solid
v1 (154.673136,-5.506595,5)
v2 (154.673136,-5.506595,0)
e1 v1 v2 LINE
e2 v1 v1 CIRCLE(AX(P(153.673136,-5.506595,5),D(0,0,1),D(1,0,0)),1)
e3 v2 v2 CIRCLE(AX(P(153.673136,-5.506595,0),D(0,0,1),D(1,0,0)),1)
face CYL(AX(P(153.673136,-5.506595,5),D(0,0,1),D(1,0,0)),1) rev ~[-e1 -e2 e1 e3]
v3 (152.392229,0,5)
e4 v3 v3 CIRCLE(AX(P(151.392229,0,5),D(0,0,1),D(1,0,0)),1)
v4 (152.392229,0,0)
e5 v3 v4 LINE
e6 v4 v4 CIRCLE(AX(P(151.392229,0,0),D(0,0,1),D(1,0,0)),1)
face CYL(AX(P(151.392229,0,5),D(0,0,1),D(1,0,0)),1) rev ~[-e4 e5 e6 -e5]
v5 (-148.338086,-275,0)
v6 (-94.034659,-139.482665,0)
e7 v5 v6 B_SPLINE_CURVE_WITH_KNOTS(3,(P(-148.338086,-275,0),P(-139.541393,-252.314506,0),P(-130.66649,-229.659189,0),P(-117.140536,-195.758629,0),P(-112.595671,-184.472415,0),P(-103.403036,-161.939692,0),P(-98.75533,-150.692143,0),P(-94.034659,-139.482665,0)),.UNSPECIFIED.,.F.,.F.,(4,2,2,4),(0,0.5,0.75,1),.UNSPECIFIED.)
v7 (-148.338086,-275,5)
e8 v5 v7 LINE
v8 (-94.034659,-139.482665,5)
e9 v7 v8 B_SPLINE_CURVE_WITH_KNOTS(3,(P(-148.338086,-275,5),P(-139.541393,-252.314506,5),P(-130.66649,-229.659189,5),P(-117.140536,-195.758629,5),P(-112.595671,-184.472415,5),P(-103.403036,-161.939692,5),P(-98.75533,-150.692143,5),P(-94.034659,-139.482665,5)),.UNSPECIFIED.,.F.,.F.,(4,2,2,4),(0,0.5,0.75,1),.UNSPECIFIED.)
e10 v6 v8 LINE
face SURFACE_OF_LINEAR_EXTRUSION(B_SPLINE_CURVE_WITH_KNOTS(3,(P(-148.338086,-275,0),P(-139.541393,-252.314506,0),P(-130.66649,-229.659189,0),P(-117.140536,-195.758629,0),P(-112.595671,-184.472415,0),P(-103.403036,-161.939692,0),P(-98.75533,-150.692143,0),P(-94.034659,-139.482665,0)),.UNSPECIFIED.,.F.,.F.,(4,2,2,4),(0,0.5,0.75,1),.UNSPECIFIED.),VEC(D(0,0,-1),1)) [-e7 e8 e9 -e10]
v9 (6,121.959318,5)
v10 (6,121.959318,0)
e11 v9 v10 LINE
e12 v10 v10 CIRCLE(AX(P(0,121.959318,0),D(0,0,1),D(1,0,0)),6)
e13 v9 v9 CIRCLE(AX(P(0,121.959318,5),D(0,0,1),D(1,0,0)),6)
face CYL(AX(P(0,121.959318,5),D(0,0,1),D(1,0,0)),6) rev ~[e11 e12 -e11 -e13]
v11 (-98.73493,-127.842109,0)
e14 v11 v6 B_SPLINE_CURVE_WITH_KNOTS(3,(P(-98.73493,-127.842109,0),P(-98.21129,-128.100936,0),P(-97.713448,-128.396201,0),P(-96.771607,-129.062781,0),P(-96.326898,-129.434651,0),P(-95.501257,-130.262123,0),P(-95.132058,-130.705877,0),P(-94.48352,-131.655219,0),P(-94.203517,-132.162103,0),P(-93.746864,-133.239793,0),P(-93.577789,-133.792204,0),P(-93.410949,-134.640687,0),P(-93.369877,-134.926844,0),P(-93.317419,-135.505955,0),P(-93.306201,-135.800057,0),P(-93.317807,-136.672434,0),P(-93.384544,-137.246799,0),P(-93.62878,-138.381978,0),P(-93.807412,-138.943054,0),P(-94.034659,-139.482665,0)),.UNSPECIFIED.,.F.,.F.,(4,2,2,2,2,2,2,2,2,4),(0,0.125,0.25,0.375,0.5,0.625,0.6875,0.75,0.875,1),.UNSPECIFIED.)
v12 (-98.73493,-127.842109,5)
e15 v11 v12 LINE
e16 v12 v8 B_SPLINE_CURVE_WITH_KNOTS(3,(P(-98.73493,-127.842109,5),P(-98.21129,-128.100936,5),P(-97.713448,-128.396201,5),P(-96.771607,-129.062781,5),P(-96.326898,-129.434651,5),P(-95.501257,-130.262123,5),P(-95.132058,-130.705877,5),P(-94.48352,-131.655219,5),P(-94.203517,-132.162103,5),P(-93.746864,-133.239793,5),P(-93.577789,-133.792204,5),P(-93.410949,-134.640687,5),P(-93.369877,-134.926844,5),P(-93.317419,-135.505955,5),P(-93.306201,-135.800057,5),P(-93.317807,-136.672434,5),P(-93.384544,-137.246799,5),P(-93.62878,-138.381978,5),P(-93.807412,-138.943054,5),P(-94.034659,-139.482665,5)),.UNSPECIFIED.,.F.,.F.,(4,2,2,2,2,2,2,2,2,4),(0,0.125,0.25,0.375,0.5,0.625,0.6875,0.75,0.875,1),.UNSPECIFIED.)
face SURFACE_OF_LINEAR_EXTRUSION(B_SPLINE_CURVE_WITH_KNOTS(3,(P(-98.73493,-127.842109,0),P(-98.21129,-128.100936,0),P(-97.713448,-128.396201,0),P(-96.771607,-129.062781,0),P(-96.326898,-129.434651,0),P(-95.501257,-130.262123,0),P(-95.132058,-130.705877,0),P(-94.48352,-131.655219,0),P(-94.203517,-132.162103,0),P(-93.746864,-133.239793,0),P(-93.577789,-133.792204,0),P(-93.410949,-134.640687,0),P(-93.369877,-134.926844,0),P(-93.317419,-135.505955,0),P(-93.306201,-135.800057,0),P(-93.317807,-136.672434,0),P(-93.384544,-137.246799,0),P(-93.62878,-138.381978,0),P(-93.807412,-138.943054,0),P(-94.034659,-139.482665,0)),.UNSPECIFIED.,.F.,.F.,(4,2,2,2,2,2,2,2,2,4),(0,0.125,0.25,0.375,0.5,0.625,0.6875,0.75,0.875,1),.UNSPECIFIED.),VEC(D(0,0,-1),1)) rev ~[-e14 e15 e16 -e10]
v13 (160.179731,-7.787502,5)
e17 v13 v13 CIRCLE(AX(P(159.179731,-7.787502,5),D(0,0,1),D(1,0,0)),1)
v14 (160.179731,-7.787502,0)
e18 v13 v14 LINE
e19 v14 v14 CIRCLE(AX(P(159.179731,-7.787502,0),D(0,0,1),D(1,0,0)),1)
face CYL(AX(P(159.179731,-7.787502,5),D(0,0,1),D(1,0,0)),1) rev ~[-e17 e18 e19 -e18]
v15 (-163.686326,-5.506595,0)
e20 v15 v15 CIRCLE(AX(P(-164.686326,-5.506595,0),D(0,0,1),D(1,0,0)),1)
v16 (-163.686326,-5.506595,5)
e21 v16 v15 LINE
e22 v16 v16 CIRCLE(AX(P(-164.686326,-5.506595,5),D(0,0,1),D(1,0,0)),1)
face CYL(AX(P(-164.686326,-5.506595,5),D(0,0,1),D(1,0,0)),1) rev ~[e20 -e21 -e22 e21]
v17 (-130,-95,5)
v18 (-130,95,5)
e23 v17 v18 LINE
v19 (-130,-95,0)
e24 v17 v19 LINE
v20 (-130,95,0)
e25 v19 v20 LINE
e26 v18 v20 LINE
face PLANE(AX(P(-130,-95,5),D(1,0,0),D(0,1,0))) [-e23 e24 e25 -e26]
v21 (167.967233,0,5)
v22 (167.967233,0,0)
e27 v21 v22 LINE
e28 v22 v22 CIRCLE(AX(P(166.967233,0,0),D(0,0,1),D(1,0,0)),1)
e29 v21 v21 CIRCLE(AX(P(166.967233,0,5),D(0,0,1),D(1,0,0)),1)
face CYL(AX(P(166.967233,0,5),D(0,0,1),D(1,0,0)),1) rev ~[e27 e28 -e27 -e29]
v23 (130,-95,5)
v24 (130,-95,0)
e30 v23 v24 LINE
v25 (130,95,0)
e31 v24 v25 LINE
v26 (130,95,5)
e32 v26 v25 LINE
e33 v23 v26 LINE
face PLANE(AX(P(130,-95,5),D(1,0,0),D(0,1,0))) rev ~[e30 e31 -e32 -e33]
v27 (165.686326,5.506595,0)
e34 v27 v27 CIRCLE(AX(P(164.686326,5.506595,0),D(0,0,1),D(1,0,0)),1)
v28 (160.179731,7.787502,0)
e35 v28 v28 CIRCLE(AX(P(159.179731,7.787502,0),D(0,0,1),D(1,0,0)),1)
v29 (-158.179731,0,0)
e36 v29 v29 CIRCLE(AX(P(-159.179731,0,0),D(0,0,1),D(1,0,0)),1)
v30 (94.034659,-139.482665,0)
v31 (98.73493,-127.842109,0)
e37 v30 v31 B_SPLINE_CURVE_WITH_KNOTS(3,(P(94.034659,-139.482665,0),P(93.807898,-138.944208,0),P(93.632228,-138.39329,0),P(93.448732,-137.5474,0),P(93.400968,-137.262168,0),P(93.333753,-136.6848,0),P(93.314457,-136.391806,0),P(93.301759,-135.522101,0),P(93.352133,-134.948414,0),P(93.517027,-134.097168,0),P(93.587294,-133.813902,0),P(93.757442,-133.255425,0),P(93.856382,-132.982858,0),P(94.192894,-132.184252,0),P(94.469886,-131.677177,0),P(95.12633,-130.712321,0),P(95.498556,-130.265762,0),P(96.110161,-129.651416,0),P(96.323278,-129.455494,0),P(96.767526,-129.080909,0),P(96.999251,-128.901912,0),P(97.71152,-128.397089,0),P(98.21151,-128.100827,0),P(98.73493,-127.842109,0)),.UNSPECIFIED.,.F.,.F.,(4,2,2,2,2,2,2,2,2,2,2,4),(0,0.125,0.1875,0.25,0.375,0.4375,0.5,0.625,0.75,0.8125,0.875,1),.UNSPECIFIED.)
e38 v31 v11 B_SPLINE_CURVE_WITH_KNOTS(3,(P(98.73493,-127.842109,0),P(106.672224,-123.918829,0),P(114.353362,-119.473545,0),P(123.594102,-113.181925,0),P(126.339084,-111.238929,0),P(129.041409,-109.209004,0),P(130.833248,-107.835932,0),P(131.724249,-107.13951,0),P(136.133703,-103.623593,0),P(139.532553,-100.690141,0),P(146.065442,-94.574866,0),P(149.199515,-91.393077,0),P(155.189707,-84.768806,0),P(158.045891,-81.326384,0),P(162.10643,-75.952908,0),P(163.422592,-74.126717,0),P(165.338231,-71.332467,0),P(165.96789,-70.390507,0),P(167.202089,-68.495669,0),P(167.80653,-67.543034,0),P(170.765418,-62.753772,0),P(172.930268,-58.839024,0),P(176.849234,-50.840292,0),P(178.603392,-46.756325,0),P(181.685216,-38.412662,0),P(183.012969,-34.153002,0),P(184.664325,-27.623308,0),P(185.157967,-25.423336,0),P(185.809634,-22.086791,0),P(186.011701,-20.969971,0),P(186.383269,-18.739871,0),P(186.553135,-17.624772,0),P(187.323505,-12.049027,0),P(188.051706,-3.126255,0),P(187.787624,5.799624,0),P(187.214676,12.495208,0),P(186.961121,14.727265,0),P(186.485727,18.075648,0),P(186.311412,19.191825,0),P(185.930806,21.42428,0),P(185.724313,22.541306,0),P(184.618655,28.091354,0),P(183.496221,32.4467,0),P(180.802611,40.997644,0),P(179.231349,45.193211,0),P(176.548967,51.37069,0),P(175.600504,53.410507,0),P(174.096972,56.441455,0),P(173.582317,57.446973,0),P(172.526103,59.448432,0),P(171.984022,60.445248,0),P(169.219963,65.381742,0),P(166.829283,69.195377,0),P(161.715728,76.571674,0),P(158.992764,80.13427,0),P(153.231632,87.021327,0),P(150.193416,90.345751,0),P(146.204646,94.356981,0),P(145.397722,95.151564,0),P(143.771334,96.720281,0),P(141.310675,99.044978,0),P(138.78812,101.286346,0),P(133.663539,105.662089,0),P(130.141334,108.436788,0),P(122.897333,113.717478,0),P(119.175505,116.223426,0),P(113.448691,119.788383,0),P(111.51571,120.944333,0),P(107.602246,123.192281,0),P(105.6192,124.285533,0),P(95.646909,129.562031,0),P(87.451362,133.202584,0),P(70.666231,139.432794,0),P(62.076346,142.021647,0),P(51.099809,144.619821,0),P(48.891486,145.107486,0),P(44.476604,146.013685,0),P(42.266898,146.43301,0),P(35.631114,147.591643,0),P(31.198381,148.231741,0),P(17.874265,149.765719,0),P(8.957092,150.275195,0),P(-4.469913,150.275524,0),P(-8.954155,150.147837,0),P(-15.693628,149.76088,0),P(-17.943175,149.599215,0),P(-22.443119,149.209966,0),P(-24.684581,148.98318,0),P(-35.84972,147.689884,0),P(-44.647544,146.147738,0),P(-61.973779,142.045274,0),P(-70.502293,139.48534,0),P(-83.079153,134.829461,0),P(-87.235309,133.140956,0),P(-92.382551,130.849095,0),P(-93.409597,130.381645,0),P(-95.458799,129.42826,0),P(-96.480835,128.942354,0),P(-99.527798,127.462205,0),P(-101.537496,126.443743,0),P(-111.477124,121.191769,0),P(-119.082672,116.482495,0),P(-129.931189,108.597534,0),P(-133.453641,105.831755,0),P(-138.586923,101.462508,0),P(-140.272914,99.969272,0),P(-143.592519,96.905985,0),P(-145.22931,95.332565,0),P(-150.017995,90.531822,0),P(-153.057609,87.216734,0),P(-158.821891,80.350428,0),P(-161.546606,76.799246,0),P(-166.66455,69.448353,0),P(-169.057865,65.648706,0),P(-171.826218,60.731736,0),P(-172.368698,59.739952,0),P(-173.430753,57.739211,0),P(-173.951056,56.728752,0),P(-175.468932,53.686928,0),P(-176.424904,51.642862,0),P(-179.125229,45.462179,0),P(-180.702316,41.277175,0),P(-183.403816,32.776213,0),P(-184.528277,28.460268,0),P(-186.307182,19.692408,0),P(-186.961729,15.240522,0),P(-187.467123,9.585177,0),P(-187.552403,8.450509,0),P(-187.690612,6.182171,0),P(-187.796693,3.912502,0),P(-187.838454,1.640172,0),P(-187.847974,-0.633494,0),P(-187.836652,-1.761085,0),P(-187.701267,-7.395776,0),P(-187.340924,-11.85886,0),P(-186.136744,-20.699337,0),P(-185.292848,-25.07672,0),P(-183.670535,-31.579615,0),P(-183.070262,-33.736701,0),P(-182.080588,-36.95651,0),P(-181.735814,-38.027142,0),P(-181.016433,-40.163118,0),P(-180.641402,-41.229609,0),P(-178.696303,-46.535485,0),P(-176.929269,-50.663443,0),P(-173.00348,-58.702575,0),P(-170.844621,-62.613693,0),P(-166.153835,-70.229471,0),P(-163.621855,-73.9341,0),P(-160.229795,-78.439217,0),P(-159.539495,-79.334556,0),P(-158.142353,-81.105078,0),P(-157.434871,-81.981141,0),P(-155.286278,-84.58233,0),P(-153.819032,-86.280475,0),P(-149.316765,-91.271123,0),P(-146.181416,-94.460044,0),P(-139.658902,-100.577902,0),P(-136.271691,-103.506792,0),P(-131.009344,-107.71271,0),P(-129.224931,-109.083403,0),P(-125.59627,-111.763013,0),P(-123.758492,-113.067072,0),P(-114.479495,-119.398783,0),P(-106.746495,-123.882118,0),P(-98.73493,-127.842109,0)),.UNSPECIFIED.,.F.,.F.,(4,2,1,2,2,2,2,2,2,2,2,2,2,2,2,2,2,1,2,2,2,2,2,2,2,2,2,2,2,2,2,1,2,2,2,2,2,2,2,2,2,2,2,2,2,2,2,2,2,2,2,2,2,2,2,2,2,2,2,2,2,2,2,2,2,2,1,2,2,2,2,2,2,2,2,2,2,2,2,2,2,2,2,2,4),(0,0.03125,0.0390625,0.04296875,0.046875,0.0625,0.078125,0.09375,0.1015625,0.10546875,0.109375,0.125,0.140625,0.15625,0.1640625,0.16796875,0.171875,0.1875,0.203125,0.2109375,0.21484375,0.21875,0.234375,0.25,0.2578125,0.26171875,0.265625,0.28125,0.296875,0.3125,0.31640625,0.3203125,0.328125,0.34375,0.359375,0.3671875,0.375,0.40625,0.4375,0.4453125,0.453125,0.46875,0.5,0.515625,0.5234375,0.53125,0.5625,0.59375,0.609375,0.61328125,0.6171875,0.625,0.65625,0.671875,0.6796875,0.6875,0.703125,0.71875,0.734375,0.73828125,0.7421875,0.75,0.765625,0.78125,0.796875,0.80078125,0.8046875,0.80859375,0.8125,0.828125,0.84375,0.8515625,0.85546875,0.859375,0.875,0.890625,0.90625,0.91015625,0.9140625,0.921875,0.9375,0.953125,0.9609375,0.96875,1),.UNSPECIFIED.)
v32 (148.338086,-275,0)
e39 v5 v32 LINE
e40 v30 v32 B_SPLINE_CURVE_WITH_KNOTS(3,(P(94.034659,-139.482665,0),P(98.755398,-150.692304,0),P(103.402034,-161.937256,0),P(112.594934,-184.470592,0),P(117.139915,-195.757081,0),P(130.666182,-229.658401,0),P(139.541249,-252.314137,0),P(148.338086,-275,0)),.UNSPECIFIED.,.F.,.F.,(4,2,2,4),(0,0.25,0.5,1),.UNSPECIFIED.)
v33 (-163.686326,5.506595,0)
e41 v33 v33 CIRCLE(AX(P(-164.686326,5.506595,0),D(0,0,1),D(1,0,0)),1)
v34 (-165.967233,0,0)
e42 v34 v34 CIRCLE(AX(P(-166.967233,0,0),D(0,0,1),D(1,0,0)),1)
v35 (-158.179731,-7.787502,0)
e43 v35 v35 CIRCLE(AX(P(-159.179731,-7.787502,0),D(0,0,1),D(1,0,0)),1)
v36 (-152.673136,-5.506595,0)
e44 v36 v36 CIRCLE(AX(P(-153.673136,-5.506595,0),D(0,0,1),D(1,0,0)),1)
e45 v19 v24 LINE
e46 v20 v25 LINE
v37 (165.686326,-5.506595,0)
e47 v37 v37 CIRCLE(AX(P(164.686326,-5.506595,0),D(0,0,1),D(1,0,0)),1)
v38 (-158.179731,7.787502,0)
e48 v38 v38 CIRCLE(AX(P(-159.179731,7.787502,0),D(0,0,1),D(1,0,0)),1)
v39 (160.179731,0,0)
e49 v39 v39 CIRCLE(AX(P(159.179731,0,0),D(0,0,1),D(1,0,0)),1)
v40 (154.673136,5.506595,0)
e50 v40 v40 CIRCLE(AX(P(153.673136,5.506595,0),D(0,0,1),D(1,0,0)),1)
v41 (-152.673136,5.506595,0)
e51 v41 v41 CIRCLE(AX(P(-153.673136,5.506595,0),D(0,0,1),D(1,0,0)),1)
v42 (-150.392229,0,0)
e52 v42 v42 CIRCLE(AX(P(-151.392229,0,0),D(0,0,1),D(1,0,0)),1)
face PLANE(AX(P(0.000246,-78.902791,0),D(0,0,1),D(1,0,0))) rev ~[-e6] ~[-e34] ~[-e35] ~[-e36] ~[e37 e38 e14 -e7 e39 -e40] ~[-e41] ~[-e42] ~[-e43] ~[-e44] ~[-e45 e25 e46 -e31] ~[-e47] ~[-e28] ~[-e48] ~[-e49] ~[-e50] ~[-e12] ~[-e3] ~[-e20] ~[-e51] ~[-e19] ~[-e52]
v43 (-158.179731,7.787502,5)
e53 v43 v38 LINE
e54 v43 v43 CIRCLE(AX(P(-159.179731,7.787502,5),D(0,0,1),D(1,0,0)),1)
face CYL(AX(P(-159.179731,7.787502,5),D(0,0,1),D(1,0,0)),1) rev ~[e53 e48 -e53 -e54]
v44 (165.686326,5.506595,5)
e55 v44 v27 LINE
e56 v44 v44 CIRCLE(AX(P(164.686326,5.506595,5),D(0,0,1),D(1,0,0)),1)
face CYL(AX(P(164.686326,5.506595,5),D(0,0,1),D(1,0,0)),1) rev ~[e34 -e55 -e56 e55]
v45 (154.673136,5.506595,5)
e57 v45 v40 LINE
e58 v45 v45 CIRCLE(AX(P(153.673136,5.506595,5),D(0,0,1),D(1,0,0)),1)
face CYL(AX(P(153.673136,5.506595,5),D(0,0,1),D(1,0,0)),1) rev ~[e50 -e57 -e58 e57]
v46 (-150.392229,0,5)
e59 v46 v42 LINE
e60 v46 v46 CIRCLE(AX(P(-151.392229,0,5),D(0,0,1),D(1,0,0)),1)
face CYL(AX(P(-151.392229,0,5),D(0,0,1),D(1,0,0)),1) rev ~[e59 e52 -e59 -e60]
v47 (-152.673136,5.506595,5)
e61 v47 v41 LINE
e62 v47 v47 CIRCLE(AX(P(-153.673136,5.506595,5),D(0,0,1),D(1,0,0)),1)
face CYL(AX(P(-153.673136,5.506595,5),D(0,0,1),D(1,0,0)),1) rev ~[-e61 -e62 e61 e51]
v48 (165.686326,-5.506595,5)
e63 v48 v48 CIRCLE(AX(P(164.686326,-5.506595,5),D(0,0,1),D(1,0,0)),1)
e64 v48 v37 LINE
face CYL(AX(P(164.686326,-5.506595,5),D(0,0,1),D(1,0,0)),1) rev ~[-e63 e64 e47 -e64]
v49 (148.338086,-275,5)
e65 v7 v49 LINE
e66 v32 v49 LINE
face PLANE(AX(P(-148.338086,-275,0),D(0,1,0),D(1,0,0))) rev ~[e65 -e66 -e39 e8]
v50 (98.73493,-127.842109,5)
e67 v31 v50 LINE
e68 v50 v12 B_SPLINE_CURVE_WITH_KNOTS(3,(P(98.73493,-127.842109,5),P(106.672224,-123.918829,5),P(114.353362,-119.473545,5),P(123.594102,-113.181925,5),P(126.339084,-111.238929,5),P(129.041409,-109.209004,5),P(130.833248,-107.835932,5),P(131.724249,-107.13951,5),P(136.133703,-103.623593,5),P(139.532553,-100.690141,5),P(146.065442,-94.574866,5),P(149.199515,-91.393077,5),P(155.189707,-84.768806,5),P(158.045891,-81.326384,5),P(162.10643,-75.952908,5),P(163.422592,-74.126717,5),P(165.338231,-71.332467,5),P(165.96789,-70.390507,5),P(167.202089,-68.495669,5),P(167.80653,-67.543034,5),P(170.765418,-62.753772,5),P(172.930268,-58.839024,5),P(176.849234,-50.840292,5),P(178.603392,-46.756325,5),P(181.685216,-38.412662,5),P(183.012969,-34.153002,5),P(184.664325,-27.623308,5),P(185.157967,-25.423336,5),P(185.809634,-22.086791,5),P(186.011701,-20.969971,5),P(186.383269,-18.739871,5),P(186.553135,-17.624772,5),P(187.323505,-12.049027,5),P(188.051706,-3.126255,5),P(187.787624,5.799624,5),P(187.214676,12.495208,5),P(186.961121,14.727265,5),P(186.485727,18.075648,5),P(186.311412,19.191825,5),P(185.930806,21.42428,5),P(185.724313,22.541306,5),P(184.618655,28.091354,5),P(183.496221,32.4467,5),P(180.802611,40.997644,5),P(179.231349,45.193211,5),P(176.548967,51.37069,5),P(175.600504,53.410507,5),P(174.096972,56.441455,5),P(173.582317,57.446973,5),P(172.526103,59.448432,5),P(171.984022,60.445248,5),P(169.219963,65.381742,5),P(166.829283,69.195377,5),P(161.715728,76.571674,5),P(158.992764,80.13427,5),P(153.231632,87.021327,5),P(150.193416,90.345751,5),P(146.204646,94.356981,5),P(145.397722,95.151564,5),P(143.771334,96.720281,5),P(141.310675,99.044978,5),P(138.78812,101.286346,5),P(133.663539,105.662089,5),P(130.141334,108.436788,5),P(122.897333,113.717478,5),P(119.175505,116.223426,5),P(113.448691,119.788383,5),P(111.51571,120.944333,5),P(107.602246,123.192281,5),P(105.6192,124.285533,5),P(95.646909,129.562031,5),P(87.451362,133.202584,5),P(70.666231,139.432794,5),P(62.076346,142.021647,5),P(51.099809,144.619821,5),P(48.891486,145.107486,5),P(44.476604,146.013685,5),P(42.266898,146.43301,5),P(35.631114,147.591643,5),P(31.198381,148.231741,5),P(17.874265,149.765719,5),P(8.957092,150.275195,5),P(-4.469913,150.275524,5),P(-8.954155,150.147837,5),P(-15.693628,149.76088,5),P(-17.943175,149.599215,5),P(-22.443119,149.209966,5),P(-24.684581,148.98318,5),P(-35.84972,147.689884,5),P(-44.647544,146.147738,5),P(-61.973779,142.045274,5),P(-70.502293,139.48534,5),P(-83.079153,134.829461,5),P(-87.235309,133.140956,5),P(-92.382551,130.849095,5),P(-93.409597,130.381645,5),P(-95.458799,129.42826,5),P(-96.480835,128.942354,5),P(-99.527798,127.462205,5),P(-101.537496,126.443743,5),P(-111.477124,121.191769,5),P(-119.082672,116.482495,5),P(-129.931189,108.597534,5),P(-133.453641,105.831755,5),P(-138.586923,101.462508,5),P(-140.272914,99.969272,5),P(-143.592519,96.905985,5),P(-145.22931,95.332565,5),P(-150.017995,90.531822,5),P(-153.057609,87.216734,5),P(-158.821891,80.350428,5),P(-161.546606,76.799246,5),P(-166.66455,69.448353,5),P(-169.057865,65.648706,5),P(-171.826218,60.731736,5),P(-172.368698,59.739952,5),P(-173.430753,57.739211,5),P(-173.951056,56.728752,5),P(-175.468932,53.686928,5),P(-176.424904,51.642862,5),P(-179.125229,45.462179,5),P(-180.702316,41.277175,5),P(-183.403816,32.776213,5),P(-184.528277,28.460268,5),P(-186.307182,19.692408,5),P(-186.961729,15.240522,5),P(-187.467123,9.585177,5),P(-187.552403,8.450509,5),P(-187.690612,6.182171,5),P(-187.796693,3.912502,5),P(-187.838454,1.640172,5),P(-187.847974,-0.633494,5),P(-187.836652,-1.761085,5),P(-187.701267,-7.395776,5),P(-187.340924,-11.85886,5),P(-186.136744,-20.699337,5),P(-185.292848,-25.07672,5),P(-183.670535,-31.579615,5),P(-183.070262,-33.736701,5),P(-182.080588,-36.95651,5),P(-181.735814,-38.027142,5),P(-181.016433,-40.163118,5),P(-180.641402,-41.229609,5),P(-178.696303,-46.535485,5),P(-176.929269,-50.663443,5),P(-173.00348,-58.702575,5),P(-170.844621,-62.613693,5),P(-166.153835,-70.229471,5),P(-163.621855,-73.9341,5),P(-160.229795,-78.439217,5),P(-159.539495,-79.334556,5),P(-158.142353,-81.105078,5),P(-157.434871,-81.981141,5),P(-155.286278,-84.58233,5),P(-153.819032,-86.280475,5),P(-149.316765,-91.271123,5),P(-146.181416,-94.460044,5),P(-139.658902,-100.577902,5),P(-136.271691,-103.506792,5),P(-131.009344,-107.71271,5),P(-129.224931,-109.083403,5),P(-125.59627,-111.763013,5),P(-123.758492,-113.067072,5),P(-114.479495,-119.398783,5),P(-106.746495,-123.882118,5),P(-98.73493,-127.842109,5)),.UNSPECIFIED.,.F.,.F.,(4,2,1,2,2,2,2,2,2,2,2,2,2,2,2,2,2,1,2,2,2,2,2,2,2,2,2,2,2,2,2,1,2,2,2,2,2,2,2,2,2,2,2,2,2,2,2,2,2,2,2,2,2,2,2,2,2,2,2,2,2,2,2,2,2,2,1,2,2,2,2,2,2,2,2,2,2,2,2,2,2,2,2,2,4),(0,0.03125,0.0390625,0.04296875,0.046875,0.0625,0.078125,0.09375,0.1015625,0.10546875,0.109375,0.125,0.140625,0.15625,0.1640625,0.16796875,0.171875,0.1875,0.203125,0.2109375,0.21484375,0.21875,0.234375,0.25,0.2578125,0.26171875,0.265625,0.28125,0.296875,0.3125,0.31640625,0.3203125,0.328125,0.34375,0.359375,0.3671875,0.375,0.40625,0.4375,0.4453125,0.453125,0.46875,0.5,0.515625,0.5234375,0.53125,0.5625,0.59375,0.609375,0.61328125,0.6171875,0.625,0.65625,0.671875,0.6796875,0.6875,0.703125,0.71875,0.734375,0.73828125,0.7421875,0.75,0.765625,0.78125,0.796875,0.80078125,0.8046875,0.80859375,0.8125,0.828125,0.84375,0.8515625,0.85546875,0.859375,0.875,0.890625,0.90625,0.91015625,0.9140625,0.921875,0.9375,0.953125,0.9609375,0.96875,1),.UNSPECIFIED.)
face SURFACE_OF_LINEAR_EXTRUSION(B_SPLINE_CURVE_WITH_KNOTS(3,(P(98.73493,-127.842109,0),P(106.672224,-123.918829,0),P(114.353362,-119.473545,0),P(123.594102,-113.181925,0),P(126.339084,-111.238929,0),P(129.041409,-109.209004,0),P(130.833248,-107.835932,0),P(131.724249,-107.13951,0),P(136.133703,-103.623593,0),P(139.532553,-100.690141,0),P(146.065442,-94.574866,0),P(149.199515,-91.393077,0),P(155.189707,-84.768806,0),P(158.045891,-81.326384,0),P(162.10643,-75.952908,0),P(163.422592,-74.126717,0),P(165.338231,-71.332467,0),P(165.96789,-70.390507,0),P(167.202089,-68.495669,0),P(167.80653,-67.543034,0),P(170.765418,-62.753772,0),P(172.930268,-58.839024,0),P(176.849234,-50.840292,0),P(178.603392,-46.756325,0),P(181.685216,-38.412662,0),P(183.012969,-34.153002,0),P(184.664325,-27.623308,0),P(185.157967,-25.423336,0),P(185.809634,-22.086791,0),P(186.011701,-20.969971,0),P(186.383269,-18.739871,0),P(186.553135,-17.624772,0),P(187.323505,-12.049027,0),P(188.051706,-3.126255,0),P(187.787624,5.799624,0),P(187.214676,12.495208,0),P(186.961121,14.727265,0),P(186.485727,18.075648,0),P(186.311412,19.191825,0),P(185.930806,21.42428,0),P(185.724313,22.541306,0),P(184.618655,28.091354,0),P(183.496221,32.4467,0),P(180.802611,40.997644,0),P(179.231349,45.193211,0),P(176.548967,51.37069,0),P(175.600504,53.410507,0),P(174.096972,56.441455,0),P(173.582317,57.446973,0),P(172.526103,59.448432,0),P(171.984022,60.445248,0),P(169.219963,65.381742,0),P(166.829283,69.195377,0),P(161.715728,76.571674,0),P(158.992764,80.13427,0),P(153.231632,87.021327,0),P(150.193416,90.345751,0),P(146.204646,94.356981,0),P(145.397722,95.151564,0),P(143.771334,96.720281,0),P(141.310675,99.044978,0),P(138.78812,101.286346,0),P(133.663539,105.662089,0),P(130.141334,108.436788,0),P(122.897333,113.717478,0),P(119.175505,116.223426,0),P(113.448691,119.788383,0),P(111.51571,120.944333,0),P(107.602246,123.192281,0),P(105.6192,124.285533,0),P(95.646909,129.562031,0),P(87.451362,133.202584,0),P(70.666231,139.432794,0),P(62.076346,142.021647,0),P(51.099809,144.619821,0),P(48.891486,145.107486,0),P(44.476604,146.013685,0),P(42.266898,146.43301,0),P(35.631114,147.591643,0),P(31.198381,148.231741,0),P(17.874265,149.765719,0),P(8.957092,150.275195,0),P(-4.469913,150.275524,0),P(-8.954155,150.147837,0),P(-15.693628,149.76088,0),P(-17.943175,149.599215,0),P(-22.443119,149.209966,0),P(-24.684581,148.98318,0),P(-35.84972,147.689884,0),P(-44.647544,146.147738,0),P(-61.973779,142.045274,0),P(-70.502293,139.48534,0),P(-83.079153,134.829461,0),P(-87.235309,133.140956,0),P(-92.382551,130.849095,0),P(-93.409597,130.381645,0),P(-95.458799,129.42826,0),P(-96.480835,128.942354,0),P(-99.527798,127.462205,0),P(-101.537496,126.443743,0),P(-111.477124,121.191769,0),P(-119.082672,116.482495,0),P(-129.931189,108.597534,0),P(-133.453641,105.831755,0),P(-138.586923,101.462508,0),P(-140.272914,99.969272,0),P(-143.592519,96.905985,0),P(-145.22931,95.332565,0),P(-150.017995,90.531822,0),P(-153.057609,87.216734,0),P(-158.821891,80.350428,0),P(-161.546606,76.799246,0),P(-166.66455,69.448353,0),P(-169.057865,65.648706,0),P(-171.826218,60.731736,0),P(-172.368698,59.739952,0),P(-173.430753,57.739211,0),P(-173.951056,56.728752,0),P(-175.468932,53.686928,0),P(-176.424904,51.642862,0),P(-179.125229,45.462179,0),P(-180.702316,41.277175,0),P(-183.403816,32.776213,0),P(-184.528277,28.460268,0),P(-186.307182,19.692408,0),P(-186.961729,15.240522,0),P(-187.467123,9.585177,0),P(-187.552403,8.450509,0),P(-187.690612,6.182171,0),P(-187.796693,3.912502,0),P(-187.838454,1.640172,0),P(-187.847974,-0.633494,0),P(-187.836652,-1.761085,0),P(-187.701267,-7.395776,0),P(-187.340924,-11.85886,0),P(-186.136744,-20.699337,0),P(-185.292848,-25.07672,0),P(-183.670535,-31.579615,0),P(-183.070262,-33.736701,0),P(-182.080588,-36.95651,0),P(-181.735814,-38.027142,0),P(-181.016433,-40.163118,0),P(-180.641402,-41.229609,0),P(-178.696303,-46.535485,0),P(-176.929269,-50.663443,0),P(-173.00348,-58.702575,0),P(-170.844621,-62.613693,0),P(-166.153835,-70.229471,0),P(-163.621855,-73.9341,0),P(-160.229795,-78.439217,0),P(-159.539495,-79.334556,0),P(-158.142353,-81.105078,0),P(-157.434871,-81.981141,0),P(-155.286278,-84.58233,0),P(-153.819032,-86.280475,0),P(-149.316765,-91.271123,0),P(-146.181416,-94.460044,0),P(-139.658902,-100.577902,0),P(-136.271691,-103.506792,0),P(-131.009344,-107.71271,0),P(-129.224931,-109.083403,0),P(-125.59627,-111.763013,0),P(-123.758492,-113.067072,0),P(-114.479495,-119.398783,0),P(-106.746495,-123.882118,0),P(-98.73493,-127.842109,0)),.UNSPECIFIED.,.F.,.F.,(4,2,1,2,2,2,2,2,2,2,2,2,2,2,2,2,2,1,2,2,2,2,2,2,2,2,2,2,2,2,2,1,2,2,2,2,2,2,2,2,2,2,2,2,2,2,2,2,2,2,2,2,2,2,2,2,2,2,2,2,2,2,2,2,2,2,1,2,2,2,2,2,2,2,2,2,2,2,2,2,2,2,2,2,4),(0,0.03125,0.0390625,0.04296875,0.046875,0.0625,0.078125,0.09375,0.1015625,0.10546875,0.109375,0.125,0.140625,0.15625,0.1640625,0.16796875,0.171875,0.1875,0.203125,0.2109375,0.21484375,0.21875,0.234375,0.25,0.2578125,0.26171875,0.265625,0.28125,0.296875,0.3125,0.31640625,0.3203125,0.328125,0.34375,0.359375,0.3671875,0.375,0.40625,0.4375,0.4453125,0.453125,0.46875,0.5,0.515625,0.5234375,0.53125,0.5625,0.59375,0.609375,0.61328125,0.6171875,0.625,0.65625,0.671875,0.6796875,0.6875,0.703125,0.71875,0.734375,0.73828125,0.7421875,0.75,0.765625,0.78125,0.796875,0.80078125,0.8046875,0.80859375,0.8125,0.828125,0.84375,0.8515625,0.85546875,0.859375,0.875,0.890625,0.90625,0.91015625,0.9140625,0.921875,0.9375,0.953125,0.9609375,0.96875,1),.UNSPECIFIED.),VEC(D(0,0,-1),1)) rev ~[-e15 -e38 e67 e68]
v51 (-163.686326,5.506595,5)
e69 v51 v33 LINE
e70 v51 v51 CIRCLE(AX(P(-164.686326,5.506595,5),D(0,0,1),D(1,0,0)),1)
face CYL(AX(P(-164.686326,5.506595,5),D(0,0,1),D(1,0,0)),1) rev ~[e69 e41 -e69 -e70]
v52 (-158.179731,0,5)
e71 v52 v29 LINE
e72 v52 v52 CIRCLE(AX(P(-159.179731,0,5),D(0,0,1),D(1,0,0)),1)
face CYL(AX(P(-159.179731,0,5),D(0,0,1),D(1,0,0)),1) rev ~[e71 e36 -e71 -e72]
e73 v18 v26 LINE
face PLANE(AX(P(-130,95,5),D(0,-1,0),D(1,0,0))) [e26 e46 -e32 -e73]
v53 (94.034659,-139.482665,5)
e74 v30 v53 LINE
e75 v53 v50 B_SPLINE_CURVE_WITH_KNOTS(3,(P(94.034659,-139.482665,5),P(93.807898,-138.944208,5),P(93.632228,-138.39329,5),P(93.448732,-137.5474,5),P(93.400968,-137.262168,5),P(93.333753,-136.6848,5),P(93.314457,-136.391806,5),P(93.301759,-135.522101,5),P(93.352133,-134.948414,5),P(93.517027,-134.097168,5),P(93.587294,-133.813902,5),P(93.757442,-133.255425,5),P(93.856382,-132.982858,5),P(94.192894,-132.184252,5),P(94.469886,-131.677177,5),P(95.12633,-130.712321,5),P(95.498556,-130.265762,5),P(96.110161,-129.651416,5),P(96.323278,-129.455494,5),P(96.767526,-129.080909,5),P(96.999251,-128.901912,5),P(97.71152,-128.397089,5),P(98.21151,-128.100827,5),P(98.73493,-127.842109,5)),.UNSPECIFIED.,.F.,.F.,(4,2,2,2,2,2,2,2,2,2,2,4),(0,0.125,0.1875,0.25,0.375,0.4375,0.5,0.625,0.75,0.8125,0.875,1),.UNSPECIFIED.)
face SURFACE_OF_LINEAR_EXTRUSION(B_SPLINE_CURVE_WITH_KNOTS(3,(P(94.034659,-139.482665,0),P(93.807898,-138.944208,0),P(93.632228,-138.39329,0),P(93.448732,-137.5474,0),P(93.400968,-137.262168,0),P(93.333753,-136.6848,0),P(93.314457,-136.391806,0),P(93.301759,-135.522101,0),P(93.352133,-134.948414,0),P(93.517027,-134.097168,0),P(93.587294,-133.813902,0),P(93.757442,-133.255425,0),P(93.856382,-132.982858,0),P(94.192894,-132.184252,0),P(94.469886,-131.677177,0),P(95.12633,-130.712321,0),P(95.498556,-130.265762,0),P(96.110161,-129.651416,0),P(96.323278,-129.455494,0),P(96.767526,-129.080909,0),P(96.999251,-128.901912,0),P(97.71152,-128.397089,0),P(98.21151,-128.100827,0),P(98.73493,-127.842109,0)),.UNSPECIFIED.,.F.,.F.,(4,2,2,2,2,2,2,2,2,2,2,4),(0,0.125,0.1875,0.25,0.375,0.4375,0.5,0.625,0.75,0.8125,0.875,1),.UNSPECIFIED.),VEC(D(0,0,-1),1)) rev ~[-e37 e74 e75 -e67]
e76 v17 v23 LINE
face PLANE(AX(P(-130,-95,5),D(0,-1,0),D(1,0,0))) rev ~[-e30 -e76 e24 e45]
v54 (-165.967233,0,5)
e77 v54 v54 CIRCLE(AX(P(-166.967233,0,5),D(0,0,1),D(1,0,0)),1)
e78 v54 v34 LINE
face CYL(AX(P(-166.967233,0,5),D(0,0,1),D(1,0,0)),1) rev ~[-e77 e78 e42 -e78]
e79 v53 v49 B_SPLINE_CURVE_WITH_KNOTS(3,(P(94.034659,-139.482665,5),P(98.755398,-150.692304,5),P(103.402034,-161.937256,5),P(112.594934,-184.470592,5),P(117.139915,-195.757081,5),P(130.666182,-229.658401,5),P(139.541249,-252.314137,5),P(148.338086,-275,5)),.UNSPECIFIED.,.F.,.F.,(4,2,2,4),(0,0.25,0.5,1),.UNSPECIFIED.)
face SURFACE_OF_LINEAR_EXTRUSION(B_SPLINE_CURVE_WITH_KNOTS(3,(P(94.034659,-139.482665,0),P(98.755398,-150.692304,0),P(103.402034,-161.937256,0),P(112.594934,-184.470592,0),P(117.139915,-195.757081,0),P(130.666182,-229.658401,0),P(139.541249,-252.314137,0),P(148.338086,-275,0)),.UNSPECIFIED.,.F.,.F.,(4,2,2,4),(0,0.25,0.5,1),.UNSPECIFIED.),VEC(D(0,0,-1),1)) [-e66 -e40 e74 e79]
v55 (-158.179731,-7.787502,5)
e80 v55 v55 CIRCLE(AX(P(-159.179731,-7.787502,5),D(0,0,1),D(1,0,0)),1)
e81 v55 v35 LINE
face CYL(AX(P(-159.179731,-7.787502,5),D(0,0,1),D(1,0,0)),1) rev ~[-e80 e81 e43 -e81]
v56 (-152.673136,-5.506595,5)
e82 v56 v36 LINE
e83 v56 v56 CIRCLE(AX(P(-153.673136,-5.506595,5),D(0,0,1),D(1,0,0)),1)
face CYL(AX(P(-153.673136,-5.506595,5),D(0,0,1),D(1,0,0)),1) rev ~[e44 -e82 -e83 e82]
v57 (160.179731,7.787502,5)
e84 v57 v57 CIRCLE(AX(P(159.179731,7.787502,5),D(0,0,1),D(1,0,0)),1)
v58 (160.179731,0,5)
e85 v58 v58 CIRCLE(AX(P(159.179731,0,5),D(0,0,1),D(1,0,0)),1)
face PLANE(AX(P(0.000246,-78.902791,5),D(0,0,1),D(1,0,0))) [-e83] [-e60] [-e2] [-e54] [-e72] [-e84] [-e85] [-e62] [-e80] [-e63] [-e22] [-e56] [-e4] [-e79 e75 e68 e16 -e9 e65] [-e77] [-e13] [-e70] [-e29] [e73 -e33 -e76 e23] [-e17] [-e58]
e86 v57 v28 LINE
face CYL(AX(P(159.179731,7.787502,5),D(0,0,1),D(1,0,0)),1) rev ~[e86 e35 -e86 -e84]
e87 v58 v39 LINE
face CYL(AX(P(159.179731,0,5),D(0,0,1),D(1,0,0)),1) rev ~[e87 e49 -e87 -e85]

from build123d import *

# Parameters (mm, degrees)
BOSS_EXTRUDE1_DEPTH = 5
SKETCH2_W           = 260
SKETCH2_H           = 190
CUT_EXTRUDE1_DEPTH  = 5
SKETCH3_R           = 6
SKETCH3_R_2         = 1
CUT_EXTRUDE2_DEPTH  = 10


with BuildPart() as part:
    # Sketch1 → Boss-Extrude1 (new body)
    with BuildSketch(Plane.XY):
        with BuildLine():
            Line((-148.338085742, -275), (148.338085742, -275))
            add(Edge.make_bspline(
                [(94.03465926, -139.482664848), (98.755398327, -150.692304451), (103.402034194, -161.937255857), (112.5949345, -184.470591803), (117.139914862, -195.757081209), (130.666182347, -229.658400511), (139.541249416, -252.314136609), (148.338085742, -275)],
                knots=[0, 0, 0, 0, 0.25, 0.25, 0.5, 0.5, 1, 1, 1, 1], degree=3))
            add(Edge.make_bspline(
                [(94.03465926, -139.482664848), (93.807897677, -138.944207717), (93.632228084, -138.393289891), (93.44873156, -137.547400236), (93.400968388, -137.262168356), (93.333753382, -136.684799815), (93.314457185, -136.391806458), (93.301758514, -135.522101075), (93.352132982, -134.948413651), (93.51702714, -134.097168202), (93.587294467, -133.813901811), (93.757441542, -133.255425384), (93.856381915, -132.982858352), (94.192894102, -132.184252189), (94.469885532, -131.6771774), (95.126329615, -130.712320783), (95.498556449, -130.265762296), (96.110160569, -129.651415743), (96.323277646, -129.455494098), (96.767526207, -129.080908537), (96.999250674, -128.901911644), (97.711519847, -128.397088639), (98.211509615, -128.100827306), (98.734930125, -127.842108733)],
                knots=[0, 0, 0, 0, 0.125, 0.125, 0.1875, 0.1875, 0.25, 0.25, 0.375, 0.375, 0.4375, 0.4375, 0.5, 0.5, 0.625, 0.625, 0.75, 0.75, 0.8125, 0.8125, 0.875, 0.875, 1, 1, 1, 1], degree=3))
            add(Edge.make_bspline(
                [(98.734930125, -127.842108733), (106.672223721, -123.918828624), (114.353361983, -119.473544824), (123.594101635, -113.181925324), (126.339083803, -111.238929255), (129.041408633, -109.209004341), (130.83324791, -107.835932391), (131.724248955, -107.139509635), (136.133702747, -103.623593351), (139.532553379, -100.690140508), (146.065441899, -94.574866016), (149.199514814, -91.393077219), (155.189707409, -84.768806302), (158.045890694, -81.32638384), (162.106430118, -75.952907828), (163.422591833, -74.126717122), (165.338231457, -71.332467152), (165.967889958, -70.390507048), (167.202089162, -68.495669088), (167.806530157, -67.543034339), (170.765418177, -62.753771896), (172.930267822, -58.839023748), (176.84923427, -50.840291802), (178.603392437, -46.756325047), (181.685215692, -38.412662144), (183.012968812, -34.153002268), (184.664324958, -27.623308391), (185.157967349, -25.423336289), (185.809634157, -22.086790898), (186.011700844, -20.969970908), (186.383269117, -18.739871397), (186.553135224, -17.624771796), (187.323504604, -12.049026534), (188.051706383, -3.126254682), (187.787623664, 5.799624386), (187.214676295, 12.495207594), (186.961121479, 14.7272646), (186.485726865, 18.075647787), (186.311412137, 19.191825148), (185.930806376, 21.424279999), (185.724312725, 22.541306074), (184.618654926, 28.091354383), (183.496220522, 32.446699946), (180.802610969, 40.997643559), (179.231349123, 45.193210746), (176.548966571, 51.370690205), (175.600504309, 53.410507363), (174.096972318, 56.441455315), (173.582316995, 57.446973259), (172.526103033, 59.448431819), (171.984021799, 60.445248111), (169.219962954, 65.381742276), (166.829282669, 69.195376687), (161.715727573, 76.571674152), (158.992763546, 80.134269804), (153.231632217, 87.021326558), (150.193416088, 90.345750773), (146.204645913, 94.356981454), (145.397721818, 95.151563896), (143.771334443, 96.720280652), (141.310675208, 99.044978255), (138.788120469, 101.28634599), (133.663539484, 105.66208903), (130.141333571, 108.436787571), (122.897332622, 113.717477966), (119.175504713, 116.223425565), (113.448691256, 119.788383487), (111.51570962, 120.944332622), (107.602245868, 123.192281032), (105.619199648, 124.285533164), (95.646909406, 129.562031056), (87.451362285, 133.202583938), (70.666231248, 139.43279408), (62.076345804, 142.021647163), (51.099809039, 144.61982087), (48.891485501, 145.107485881), (44.476604411, 146.013685071), (42.266898023, 146.433010245), (35.631114178, 147.59164273), (31.198381042, 148.231741166), (17.874264573, 149.765719495), (8.957092466, 150.275194595), (-4.469912765, 150.275523724), (-8.954154708, 150.14783725), (-15.693628409, 149.760879524), (-17.943175049, 149.599214758), (-22.44311872, 149.209966108), (-24.684580548, 148.983180383), (-35.849720493, 147.689884073), (-44.647543981, 146.147738071), (-61.973779364, 142.045273806), (-70.50229306, 139.485340268), (-83.079153043, 134.82946117), (-87.235309424, 133.14095631), (-92.382550742, 130.849094747), (-93.409597112, 130.381645094), (-95.458798541, 129.428260322), (-96.480834957, 128.942354293), (-99.527797872, 127.46220511), (-101.537495886, 126.443743321), (-111.477123597, 121.191768933), (-119.082672116, 116.482495353), (-129.93118937, 108.597533563), (-133.45364095, 105.831755182), (-138.5869234, 101.462507505), (-140.272913555, 99.969272271), (-143.592518731, 96.905984629), (-145.229309992, 95.332565098), (-150.017994844, 90.531821869), (-153.057609061, 87.216733744), (-158.821891154, 80.350428358), (-161.546605709, 76.799246094), (-166.66454997, 69.448352783), (-169.057865382, 65.648705992), (-171.826218331, 60.731736176), (-172.368697643, 59.739951619), (-173.43075339, 57.739211209), (-173.951056006, 56.728751656), (-175.468931799, 53.686928321), (-176.424904194, 51.642861807), (-179.125229254, 45.462179476), (-180.702315549, 41.27717511), (-183.403816096, 32.776212716), (-184.528276879, 28.46026815), (-186.307182147, 19.69240783), (-186.961728504, 15.240521547), (-187.467123424, 9.58517713), (-187.552402564, 8.45050895), (-187.690612448, 6.18217062), (-187.796693469, 3.912502375), (-187.838454188, 1.640171713), (-187.847973635, -0.633493517), (-187.836652426, -1.761085094), (-187.701266627, -7.395776285), (-187.34092428, -11.858860476), (-186.136744198, -20.699337387), (-185.292848212, -25.076719781), (-183.670534578, -31.579615088), (-183.070261869, -33.736701211), (-182.080588364, -36.956509766), (-181.735814369, -38.027141552), (-181.016433358, -40.163117721), (-180.641402271, -41.229608891), (-178.696302608, -46.535485041), (-176.929269355, -50.663442598), (-173.003479768, -58.70257503), (-170.844620918, -62.613693172), (-166.153835391, -70.229470742), (-163.621854753, -73.934100308), (-160.229794561, -78.439216947), (-159.539495177, -79.334555859), (-158.142352572, -81.105078347), (-157.434871203, -81.981140567), (-155.286277529, -84.582329617), (-153.819031706, -86.280475405), (-149.316764675, -91.271122983), (-146.181416277, -94.460043922), (-139.658902036, -100.577901787), (-136.271690727, -103.506791774), (-131.009344272, -107.71271017), (-129.224931494, -109.083403119), (-125.596270465, -111.763013049), (-123.758491931, -113.067071632), (-114.479495371, -119.39878308), (-106.746494591, -123.882117694), (-98.734930125, -127.842108733)],
                knots=[0, 0, 0, 0, 0.03125, 0.03125, 0.0390625, 0.04296875, 0.04296875, 0.046875, 0.046875, 0.0625, 0.0625, 0.078125, 0.078125, 0.09375, 0.09375, 0.1015625, 0.1015625, 0.10546875, 0.10546875, 0.109375, 0.109375, 0.125, 0.125, 0.140625, 0.140625, 0.15625, 0.15625, 0.1640625, 0.1640625, 0.16796875, 0.16796875, 0.171875, 0.171875, 0.1875, 0.203125, 0.203125, 0.2109375, 0.2109375, 0.21484375, 0.21484375, 0.21875, 0.21875, 0.234375, 0.234375, 0.25, 0.25, 0.2578125, 0.2578125, 0.26171875, 0.26171875, 0.265625, 0.265625, 0.28125, 0.28125, 0.296875, 0.296875, 0.3125, 0.3125, 0.31640625, 0.31640625, 0.3203125, 0.328125, 0.328125, 0.34375, 0.34375, 0.359375, 0.359375, 0.3671875, 0.3671875, 0.375, 0.375, 0.40625, 0.40625, 0.4375, 0.4375, 0.4453125, 0.4453125, 0.453125, 0.453125, 0.46875, 0.46875, 0.5, 0.5, 0.515625, 0.515625, 0.5234375, 0.5234375, 0.53125, 0.53125, 0.5625, 0.5625, 0.59375, 0.59375, 0.609375, 0.609375, 0.61328125, 0.61328125, 0.6171875, 0.6171875, 0.625, 0.625, 0.65625, 0.65625, 0.671875, 0.671875, 0.6796875, 0.6796875, 0.6875, 0.6875, 0.703125, 0.703125, 0.71875, 0.71875, 0.734375, 0.734375, 0.73828125, 0.73828125, 0.7421875, 0.7421875, 0.75, 0.75, 0.765625, 0.765625, 0.78125, 0.78125, 0.796875, 0.796875, 0.80078125, 0.80078125, 0.8046875, 0.80859375, 0.80859375, 0.8125, 0.8125, 0.828125, 0.828125, 0.84375, 0.84375, 0.8515625, 0.8515625, 0.85546875, 0.85546875, 0.859375, 0.859375, 0.875, 0.875, 0.890625, 0.890625, 0.90625, 0.90625, 0.91015625, 0.91015625, 0.9140625, 0.9140625, 0.921875, 0.921875, 0.9375, 0.9375, 0.953125, 0.953125, 0.9609375, 0.9609375, 0.96875, 0.96875, 1, 1, 1, 1], degree=3))
            add(Edge.make_bspline(
                [(-98.734930125, -127.842108733), (-98.211290119, -128.100935799), (-97.713448362, -128.396201475), (-96.7716066, -129.062781345), (-96.326898331, -129.43465053), (-95.50125689, -130.262122999), (-95.132058379, -130.705876789), (-94.483520325, -131.655218618), (-94.203516921, -132.162102934), (-93.746863616, -133.239792933), (-93.5777887, -133.792203887), (-93.410949383, -134.640687405), (-93.369877307, -134.92684448), (-93.317418821, -135.505955296), (-93.306201453, -135.800056988), (-93.317807229, -136.672433839), (-93.384544066, -137.246799447), (-93.62877986, -138.381978258), (-93.807411936, -138.9430543), (-94.03465926, -139.482664848)],
                knots=[0, 0, 0, 0, 0.125, 0.125, 0.25, 0.25, 0.375, 0.375, 0.5, 0.5, 0.625, 0.625, 0.6875, 0.6875, 0.75, 0.75, 0.875, 0.875, 1, 1, 1, 1], degree=3))
            add(Edge.make_bspline(
                [(-148.338085742, -275), (-139.541392798, -252.314506371), (-130.666490496, -229.65918909), (-117.140535746, -195.758629224), (-112.595670785, -184.472415193), (-103.403035713, -161.93969212), (-98.755330202, -150.692142686), (-94.03465926, -139.482664848)],
                knots=[0, 0, 0, 0, 0.5, 0.5, 0.75, 0.75, 1, 1, 1, 1], degree=3))
        make_face()
    extrude(amount=BOSS_EXTRUDE1_DEPTH)

    # Sketch2 → Cut-Extrude1 (cut)
    with BuildSketch(Plane.XY.offset(5)):
        Rectangle(SKETCH2_W, SKETCH2_H)
    extrude(amount=-CUT_EXTRUDE1_DEPTH, mode=Mode.SUBTRACT)

    # Sketch3 → Cut-Extrude2 (cut)
    with BuildSketch(Plane.XY.offset(5)):
        with Locations((0, 121.959318028)):
            Circle(SKETCH3_R)
        with Locations((-159.179730943, 0)):
            Circle(SKETCH3_R_2)
        with Locations((-159.179730943, 7.787501567)):
            Circle(SKETCH3_R_2)
        with Locations((-153.673135777, 5.506595166)):
            Circle(SKETCH3_R_2)
        with Locations((-151.392229376, 0)):
            Circle(SKETCH3_R_2)
        with Locations((-153.673135777, -5.506595166)):
            Circle(SKETCH3_R_2)
        with Locations((-159.179730943, -7.787501567)):
            Circle(SKETCH3_R_2)
        with Locations((-164.686326109, -5.506595166)):
            Circle(SKETCH3_R_2)
        with Locations((-166.96723251, 0)):
            Circle(SKETCH3_R_2)
        with Locations((-164.686326109, 5.506595166)):
            Circle(SKETCH3_R_2)
        with Locations((164.686326109, 5.506595166)):
            Circle(SKETCH3_R_2)
        with Locations((166.96723251, 0)):
            Circle(SKETCH3_R_2)
        with Locations((164.686326109, -5.506595166)):
            Circle(SKETCH3_R_2)
        with Locations((159.179730943, -7.787501567)):
            Circle(SKETCH3_R_2)
        with Locations((153.673135777, -5.506595166)):
            Circle(SKETCH3_R_2)
        with Locations((151.392229376, 0)):
            Circle(SKETCH3_R_2)
        with Locations((153.673135777, 5.506595166)):
            Circle(SKETCH3_R_2)
        with Locations((159.179730943, 7.787501567)):
            Circle(SKETCH3_R_2)
        with Locations((159.179730943, 0)):
            Circle(SKETCH3_R_2)
    extrude(amount=-CUT_EXTRUDE2_DEPTH, mode=Mode.SUBTRACT)


solid = part.part
